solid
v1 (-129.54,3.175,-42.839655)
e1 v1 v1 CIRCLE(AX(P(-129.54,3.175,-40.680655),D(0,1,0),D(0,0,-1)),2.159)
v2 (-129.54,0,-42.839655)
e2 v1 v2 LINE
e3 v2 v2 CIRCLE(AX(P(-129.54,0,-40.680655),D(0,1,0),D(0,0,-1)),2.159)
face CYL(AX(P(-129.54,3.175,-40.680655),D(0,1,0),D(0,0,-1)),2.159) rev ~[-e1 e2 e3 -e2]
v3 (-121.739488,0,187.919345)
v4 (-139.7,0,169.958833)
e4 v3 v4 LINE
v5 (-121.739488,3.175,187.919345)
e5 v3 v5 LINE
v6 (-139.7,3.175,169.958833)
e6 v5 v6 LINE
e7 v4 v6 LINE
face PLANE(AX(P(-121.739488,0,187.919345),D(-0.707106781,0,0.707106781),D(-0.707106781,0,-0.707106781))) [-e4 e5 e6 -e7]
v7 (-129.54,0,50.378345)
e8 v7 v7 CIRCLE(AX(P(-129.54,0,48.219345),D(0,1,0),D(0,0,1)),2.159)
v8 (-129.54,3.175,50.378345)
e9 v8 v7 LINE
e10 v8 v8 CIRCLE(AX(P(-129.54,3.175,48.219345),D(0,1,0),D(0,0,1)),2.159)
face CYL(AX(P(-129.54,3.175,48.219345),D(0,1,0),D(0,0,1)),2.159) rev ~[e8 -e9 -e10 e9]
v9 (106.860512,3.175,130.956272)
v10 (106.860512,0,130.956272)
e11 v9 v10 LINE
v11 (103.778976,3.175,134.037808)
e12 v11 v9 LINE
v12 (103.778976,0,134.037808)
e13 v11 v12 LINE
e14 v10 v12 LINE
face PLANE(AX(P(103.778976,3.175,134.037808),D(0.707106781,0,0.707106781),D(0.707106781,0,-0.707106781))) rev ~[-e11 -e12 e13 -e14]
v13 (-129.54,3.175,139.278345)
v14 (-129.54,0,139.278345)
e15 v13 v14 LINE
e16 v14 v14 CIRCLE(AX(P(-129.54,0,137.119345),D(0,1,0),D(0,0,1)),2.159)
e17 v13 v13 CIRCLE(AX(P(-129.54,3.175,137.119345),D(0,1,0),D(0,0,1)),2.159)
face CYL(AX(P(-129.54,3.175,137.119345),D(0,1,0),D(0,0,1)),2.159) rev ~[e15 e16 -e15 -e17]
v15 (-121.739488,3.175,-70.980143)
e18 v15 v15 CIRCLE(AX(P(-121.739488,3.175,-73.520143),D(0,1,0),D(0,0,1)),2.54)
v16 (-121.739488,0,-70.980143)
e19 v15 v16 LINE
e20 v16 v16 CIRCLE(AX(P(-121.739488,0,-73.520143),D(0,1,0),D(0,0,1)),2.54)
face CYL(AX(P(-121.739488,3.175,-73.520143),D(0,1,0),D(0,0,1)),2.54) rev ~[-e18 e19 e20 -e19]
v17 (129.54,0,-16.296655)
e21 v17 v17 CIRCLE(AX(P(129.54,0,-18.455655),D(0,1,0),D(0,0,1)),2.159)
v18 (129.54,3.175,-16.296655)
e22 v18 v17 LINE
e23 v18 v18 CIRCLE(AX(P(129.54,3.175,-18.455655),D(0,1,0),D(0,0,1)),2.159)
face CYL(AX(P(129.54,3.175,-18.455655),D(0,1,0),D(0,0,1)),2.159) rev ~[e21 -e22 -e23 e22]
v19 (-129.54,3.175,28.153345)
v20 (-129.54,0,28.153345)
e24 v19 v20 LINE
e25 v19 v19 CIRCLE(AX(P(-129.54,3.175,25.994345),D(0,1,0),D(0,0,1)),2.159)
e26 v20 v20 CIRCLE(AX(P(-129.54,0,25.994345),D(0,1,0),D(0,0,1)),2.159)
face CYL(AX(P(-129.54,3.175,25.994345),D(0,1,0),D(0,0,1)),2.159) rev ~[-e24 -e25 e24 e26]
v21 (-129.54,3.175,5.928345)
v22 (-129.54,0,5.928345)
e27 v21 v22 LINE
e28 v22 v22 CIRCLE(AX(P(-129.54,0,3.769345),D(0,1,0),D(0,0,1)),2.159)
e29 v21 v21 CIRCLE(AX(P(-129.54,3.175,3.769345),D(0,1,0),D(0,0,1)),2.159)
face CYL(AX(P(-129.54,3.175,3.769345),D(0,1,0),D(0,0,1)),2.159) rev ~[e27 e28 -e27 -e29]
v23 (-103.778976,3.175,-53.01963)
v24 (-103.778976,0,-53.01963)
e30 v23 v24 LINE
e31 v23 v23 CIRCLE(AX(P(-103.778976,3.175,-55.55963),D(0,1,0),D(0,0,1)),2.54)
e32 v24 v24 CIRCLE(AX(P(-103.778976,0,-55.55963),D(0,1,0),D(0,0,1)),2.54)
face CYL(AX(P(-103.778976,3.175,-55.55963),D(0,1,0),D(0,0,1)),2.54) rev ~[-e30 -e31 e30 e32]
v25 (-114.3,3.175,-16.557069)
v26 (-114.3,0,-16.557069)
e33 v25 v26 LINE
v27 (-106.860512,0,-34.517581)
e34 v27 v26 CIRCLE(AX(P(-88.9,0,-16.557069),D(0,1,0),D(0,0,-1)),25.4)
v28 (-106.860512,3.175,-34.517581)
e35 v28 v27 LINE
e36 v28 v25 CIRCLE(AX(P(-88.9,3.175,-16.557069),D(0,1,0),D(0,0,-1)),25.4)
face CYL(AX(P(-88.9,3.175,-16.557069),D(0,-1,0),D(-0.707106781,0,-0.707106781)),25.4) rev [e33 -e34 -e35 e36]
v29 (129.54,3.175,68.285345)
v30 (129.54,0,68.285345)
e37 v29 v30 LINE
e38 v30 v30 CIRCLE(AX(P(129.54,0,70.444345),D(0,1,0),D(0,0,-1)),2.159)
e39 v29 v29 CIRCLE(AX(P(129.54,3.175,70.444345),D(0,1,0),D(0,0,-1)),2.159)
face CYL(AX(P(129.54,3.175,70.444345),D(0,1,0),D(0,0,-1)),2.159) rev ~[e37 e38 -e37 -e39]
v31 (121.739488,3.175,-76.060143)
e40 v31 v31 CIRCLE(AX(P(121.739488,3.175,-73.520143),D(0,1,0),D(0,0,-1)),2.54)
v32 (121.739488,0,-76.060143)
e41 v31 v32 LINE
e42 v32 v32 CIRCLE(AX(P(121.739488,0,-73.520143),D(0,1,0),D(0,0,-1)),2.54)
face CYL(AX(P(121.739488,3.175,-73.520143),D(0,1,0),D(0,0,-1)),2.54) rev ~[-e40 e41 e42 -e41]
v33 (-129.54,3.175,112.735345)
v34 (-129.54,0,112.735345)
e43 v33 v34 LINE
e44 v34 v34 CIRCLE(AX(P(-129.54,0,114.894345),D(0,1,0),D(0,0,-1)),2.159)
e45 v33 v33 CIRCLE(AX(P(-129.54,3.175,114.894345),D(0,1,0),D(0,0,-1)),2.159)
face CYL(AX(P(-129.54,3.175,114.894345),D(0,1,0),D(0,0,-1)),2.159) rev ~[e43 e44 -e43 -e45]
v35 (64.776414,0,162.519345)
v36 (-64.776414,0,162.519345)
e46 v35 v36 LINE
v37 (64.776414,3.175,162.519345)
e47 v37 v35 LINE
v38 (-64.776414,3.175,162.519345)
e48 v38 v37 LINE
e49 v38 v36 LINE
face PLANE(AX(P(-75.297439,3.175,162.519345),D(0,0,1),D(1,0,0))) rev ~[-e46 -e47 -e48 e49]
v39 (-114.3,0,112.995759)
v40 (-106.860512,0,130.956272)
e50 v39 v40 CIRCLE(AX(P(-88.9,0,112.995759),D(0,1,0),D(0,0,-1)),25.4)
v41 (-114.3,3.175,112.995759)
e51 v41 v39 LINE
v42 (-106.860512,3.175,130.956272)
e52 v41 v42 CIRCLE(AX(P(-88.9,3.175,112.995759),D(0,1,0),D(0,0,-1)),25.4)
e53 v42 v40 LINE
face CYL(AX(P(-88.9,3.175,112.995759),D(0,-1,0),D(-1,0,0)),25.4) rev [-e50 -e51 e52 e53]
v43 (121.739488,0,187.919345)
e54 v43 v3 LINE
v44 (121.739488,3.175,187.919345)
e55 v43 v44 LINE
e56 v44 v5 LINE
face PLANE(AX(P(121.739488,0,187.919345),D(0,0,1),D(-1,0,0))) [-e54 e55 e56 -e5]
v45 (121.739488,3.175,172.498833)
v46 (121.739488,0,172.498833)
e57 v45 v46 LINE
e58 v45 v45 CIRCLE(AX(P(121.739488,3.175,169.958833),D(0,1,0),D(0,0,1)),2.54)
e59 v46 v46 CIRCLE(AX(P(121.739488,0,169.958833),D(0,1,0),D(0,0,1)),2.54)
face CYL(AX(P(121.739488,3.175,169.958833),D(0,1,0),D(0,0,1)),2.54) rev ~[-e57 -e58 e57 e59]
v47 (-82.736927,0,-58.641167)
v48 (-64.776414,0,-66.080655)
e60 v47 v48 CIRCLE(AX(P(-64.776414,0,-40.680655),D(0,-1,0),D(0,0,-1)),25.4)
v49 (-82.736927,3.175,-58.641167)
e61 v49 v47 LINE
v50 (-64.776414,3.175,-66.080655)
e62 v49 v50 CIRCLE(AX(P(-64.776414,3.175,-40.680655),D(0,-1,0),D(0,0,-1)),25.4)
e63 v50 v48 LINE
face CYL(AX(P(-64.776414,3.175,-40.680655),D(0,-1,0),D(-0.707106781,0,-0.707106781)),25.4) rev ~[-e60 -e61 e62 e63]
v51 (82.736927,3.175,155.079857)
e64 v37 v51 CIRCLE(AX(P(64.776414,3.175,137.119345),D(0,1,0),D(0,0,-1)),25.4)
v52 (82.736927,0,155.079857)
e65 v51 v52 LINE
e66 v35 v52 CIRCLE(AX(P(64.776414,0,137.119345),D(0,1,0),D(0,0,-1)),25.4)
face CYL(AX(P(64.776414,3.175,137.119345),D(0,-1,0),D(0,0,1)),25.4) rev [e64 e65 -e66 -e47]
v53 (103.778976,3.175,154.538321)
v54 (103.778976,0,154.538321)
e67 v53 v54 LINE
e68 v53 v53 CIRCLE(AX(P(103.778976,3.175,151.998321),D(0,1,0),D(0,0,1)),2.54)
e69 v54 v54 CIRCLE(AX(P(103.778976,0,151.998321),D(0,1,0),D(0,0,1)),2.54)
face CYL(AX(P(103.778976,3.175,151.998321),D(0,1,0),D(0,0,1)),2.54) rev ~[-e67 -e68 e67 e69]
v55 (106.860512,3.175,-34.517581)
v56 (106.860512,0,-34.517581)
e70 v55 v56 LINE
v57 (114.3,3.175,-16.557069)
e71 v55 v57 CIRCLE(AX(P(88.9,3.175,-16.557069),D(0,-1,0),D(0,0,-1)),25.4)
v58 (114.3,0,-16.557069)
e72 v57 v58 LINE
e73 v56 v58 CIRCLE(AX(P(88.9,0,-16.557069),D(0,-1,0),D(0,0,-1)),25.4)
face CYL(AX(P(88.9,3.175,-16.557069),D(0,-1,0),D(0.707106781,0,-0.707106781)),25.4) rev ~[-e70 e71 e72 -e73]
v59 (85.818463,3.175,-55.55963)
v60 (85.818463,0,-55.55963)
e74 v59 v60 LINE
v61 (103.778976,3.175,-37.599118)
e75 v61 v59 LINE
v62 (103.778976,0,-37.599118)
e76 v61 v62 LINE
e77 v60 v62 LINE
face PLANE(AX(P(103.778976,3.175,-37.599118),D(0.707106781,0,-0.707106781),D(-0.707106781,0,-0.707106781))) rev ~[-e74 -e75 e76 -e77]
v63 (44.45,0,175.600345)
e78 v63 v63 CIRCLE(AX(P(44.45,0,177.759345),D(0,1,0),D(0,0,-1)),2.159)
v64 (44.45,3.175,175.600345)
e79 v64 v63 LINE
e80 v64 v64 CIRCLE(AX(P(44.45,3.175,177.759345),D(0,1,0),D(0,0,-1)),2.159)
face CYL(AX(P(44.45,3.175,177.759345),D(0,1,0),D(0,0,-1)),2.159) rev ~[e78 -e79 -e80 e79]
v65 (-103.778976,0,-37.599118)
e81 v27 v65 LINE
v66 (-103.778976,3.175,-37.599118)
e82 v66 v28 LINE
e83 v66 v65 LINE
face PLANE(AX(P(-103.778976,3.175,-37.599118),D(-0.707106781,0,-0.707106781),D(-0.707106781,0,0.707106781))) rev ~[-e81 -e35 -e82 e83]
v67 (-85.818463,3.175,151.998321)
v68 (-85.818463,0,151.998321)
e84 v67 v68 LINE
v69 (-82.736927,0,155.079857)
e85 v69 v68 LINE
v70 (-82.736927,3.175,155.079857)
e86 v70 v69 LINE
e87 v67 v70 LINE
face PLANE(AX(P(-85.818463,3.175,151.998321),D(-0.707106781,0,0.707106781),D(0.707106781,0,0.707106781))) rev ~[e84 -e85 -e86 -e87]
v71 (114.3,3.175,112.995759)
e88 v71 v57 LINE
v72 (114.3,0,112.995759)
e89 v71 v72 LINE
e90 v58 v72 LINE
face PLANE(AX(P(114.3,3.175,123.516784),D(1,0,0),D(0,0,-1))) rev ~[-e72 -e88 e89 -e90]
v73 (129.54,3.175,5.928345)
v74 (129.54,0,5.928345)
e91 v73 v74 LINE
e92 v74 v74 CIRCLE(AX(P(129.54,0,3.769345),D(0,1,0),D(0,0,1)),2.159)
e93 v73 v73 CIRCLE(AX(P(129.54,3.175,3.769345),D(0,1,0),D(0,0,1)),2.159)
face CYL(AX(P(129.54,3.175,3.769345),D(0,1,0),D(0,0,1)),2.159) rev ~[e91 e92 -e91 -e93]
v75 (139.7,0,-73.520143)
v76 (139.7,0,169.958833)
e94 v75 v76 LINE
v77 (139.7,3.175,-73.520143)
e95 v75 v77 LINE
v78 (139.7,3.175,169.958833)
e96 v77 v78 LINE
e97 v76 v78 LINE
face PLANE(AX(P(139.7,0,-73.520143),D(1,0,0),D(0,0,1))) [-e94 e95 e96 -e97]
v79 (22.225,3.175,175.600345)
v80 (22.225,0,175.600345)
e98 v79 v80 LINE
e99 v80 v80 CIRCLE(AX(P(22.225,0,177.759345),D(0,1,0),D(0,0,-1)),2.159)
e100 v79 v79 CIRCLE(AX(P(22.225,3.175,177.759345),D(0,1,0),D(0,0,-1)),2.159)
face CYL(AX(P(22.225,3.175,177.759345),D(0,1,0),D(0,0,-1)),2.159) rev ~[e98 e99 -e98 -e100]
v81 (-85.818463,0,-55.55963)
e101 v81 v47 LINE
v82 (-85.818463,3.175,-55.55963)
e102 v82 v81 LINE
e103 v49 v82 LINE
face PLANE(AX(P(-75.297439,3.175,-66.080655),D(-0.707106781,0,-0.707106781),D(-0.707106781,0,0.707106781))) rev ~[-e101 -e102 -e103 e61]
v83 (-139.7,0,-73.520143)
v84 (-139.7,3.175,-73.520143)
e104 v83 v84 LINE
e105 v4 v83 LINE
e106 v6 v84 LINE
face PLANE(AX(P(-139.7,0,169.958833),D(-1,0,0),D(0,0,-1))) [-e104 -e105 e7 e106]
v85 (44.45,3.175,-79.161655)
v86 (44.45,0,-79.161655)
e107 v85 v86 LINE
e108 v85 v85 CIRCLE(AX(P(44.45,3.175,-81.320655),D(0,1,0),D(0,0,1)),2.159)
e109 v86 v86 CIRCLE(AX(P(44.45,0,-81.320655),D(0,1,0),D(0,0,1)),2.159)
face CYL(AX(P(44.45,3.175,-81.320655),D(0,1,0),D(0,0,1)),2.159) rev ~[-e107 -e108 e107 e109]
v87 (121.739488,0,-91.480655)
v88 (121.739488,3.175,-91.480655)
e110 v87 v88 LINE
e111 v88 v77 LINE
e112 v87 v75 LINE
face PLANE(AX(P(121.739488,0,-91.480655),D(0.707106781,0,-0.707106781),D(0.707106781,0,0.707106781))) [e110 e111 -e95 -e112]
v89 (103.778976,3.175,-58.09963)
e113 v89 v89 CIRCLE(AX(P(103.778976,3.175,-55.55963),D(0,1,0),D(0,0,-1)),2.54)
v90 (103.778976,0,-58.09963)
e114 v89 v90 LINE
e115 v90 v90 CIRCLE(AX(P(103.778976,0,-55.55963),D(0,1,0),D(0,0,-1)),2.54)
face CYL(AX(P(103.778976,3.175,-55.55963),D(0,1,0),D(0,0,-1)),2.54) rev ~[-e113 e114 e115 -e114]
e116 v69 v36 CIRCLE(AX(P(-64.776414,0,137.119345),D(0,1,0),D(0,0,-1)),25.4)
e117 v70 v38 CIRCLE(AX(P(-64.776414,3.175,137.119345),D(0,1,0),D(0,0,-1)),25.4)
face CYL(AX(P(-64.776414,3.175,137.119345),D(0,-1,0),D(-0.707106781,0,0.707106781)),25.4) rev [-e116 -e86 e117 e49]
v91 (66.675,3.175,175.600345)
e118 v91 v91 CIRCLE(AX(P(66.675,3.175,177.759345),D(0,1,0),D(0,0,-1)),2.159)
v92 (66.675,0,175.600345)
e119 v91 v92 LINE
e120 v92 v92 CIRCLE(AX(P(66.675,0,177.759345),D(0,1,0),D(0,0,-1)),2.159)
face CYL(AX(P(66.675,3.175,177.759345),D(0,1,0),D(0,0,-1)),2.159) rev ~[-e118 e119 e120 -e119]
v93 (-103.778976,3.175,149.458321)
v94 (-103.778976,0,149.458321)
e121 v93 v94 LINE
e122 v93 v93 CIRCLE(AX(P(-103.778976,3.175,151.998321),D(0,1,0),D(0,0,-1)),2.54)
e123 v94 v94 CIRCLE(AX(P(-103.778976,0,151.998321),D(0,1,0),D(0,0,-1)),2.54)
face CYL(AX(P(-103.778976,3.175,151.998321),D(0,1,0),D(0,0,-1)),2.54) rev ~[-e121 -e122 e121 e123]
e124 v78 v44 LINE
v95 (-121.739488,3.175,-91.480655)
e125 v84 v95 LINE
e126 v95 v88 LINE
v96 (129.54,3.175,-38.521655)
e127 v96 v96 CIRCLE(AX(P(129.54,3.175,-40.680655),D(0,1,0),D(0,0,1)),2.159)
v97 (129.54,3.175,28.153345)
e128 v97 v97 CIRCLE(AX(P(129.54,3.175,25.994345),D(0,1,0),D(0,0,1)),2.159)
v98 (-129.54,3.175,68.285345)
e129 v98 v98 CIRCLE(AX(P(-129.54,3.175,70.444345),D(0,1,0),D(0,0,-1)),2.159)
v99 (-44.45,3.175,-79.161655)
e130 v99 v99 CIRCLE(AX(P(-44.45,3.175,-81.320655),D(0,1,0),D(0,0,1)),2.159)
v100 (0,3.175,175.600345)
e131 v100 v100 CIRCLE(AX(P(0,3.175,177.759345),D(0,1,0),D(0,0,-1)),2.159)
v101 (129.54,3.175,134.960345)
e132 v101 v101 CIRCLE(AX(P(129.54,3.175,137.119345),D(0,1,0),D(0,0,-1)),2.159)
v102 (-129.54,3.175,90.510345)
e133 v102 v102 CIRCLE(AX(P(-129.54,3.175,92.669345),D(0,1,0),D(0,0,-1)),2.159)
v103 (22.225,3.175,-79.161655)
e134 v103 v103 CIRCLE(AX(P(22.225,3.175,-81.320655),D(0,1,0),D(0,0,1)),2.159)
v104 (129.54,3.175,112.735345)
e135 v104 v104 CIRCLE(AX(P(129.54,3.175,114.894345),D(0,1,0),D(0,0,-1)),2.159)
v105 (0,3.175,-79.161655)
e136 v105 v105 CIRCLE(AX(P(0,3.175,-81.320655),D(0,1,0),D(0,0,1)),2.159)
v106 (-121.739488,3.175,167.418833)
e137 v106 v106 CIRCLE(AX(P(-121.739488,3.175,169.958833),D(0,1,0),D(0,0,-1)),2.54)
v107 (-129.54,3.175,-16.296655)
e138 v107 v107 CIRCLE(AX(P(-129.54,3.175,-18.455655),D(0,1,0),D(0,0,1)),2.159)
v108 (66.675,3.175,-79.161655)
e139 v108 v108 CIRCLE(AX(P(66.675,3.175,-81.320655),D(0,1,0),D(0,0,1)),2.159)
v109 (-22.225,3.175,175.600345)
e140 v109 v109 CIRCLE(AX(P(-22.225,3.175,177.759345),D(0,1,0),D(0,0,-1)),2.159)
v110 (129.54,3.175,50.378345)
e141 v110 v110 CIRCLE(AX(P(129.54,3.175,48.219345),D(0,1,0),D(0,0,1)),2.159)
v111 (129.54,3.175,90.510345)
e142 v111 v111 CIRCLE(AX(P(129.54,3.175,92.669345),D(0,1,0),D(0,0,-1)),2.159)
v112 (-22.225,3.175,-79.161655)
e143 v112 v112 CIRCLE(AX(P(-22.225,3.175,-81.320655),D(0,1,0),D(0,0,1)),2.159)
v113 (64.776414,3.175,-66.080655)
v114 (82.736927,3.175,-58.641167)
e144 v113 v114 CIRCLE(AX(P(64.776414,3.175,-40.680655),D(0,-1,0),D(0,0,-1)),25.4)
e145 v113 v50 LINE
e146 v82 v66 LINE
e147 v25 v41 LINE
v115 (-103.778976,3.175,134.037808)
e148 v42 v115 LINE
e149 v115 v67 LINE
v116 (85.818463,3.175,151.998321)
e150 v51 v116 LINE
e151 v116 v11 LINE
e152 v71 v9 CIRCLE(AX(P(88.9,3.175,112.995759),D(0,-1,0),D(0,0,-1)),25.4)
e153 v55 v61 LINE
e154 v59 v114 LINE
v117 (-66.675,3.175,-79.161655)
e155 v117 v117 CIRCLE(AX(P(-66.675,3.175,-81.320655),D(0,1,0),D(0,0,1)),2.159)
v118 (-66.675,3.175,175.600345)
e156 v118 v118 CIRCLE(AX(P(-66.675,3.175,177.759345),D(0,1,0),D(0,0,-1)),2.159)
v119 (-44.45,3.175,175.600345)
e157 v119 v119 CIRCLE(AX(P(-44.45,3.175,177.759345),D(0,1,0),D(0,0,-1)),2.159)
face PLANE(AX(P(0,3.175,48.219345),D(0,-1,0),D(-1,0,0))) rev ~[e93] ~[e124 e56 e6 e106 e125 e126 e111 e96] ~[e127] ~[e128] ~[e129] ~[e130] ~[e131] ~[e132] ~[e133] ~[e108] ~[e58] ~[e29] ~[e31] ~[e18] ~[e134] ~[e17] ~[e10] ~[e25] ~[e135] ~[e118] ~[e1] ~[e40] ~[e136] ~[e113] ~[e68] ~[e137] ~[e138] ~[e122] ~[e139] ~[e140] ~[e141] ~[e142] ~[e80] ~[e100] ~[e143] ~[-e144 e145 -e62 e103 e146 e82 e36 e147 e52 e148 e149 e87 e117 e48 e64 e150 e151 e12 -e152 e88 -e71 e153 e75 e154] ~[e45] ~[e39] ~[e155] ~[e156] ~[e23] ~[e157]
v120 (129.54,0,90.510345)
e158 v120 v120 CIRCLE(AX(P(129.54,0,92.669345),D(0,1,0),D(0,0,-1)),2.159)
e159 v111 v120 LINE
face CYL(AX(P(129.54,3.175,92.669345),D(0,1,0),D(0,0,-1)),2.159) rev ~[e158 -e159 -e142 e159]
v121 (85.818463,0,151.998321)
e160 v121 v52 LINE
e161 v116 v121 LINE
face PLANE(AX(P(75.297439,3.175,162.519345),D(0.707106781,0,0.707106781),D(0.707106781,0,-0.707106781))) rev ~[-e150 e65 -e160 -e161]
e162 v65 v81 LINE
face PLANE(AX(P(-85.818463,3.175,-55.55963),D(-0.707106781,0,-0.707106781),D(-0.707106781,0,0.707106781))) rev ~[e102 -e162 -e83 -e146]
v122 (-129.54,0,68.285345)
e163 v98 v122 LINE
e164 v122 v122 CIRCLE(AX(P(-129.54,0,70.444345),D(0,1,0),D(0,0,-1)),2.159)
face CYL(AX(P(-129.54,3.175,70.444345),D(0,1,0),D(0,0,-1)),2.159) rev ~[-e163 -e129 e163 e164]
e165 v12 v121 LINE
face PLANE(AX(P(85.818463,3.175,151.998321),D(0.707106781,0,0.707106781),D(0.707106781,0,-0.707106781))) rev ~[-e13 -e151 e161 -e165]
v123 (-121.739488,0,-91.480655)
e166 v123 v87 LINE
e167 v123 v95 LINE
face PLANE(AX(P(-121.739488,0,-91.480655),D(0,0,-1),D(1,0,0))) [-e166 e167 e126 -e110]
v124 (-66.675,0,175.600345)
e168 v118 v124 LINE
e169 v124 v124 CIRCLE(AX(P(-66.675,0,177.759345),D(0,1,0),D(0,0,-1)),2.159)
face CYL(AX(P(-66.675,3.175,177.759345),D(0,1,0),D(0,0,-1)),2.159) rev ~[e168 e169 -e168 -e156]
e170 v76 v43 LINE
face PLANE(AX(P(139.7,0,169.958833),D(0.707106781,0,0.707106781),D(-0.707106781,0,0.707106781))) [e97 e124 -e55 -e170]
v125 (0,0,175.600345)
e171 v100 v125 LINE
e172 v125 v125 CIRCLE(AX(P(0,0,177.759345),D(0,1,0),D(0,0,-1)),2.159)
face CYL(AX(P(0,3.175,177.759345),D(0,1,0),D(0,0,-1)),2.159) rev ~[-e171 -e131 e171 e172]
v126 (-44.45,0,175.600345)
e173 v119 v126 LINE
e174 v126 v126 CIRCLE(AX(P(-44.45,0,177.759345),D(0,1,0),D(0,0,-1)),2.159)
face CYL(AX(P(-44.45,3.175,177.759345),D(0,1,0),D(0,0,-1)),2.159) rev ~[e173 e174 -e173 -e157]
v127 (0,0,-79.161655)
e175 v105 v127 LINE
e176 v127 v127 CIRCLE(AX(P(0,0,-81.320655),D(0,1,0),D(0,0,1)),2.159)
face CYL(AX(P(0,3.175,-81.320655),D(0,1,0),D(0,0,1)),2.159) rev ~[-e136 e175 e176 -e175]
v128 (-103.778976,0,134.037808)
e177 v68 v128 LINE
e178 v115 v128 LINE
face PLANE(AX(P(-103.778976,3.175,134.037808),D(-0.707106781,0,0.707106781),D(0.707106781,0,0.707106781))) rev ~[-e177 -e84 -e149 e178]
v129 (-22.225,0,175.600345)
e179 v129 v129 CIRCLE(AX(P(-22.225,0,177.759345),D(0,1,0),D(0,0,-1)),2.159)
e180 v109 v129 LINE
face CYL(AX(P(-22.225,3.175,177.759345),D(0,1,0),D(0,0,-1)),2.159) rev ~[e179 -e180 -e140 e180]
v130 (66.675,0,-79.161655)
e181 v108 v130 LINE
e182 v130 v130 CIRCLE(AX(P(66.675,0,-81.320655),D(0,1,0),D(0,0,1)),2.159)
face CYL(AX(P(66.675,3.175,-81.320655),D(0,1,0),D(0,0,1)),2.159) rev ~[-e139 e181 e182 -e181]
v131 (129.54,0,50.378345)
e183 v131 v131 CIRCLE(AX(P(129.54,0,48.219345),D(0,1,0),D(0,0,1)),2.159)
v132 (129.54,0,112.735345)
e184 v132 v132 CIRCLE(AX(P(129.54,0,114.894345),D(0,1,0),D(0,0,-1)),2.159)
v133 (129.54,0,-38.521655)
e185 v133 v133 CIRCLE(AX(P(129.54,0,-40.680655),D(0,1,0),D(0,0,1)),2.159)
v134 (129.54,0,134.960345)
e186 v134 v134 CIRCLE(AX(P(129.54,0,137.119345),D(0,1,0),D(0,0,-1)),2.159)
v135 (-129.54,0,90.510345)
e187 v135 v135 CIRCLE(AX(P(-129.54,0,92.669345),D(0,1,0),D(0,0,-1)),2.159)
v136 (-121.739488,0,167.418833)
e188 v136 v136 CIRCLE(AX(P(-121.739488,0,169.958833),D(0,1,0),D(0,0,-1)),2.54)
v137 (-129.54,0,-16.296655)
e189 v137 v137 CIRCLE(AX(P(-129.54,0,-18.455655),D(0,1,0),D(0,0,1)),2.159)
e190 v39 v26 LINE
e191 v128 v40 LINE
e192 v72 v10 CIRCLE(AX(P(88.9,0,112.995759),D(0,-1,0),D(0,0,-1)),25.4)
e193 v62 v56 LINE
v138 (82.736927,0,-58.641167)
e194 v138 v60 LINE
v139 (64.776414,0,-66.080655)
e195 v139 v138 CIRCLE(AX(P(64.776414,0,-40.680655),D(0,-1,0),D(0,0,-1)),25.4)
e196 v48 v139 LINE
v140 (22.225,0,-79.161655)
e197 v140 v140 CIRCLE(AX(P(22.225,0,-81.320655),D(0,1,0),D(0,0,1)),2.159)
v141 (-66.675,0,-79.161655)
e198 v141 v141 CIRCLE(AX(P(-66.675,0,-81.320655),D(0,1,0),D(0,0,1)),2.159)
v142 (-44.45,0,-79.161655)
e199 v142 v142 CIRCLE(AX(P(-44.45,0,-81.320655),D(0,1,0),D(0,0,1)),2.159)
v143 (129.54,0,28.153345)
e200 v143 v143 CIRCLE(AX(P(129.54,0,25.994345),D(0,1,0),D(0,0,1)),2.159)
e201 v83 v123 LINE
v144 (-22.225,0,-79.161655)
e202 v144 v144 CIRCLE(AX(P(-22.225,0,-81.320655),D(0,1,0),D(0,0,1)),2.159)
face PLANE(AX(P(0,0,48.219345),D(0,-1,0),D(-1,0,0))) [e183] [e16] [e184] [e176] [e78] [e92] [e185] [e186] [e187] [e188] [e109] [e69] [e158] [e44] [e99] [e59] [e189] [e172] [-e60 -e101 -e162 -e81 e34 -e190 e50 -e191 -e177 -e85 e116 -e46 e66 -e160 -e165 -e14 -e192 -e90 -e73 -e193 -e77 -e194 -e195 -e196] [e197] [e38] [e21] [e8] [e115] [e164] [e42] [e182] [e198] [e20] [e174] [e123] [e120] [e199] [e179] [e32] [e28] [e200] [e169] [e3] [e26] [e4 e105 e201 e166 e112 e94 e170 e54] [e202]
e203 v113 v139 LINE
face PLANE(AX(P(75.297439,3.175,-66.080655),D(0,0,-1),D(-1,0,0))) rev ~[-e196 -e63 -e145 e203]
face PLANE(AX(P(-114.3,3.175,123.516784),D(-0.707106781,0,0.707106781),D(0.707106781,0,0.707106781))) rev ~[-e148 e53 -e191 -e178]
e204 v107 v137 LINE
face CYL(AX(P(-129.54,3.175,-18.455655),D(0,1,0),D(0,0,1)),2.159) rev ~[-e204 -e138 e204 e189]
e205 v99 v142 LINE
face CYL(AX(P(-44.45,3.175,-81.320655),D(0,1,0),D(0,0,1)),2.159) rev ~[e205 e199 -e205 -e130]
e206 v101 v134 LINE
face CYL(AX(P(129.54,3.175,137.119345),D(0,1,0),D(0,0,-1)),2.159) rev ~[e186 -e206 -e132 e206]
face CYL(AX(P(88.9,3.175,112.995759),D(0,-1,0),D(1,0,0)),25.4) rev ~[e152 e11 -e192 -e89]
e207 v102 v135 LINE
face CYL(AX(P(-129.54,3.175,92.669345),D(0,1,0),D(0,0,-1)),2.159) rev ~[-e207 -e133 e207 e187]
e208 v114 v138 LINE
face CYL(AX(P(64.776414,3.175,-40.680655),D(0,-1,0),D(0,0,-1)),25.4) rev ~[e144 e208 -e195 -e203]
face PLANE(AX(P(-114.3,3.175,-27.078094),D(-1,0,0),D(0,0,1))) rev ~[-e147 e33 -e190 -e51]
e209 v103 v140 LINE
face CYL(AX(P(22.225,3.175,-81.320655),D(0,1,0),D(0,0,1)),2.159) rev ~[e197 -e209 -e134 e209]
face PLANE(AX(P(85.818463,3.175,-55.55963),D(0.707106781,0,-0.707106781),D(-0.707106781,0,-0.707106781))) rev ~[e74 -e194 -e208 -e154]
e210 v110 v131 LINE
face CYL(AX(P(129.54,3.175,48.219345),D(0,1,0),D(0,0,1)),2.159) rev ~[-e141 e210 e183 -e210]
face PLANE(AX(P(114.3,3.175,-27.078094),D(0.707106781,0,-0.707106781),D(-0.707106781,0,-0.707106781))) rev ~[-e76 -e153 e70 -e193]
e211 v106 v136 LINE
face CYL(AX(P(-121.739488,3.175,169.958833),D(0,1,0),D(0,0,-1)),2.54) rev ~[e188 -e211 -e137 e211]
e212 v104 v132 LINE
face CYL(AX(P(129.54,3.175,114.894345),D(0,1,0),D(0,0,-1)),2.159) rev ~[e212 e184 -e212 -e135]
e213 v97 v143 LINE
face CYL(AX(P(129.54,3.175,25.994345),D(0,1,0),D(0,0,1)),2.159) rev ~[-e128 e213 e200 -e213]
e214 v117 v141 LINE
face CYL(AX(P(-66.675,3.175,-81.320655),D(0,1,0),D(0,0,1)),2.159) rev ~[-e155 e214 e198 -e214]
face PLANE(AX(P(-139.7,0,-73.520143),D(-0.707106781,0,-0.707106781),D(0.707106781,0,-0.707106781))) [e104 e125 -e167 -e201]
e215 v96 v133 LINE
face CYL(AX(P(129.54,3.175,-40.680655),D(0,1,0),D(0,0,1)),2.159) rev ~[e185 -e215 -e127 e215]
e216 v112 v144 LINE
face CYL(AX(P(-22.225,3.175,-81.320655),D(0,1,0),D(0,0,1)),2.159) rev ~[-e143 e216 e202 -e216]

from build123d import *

# Parameters (mm, degrees)
BOSS_EXTRUDE1_DEPTH = 3.175
CUT_EXTRUDE4_DEPTH  = 235.179100055
SKETCH5_R           = 2.54
CUT_EXTRUDE3_DEPTH  = 235.179100055
SKETCH4_R           = 2.159
CUT_EXTRUDE2_DEPTH  = 235.179100055
FILLET1_R           = 25.4


with BuildPart() as part:
    # Sketch1 → Boss-Extrude1 (new body)
    with BuildSketch(Plane(origin=(0, 0, 0), x_dir=(1, 0, 0), z_dir=(0, 1, 0))):
        Polygon((-139.7, 73.520142619), (-121.739487758, 91.480654861), (121.739487758, 91.480654861), (139.7, 73.520142619), (139.7, -169.958832897), (121.739487758, -187.919345139), (-121.739487758, -187.919345139), (-139.7, -169.958832897), align=None)
    extrude(amount=BOSS_EXTRUDE1_DEPTH)

    # Sketch2 → Cut-Extrude4 (cut, through all)
    with BuildSketch(Plane(origin=(0, 3.175, 0), x_dir=(1, 0, 0), z_dir=(0, 1, 0))):
        Polygon((-103.778975516, 37.599118134), (-114.3, 27.07809365), (-114.3, -123.516783928), (-103.778975516, -134.037808413), (-85.818463274, -151.998320655), (-75.297438789, -162.519345139), (75.297438789, -162.519345139), (85.818463274, -151.998320655), (103.778975516, -134.037808413), (114.3, -123.516783928), (114.3, 27.07809365), (103.778975516, 37.599118134), (85.818463274, 55.559630377), (75.297438789, 66.080654861), (-75.297438789, 66.080654861), (-85.818463274, 55.559630377), align=None)
    extrude(amount=-CUT_EXTRUDE4_DEPTH, mode=Mode.SUBTRACT)

    # Sketch5 → Cut-Extrude3 (cut, through all)
    with BuildSketch(Plane(origin=(0, 3.175, 0), x_dir=(1, 0, 0), z_dir=(0, 1, 0))):
        with Locations(Location((-121.739487758, 73.520142619, 0), (0, 0, 270))):
            Circle(SKETCH5_R)
        with Locations(Location((-103.778975516, 55.559630377, 0), (0, 0, 270))):
            Circle(SKETCH5_R)
        with Locations(Location((103.778975516, 55.559630377, 0), (0, 0, 90))):
            Circle(SKETCH5_R)
        with Locations(Location((121.739487758, 73.520142619, 0), (0, 0, 90))):
            Circle(SKETCH5_R)
        with Locations(Location((121.739487758, -169.958832897, 0), (0, 0, 270))):
            Circle(SKETCH5_R)
        with Locations(Location((103.778975516, -151.998320655, 0), (0, 0, 270))):
            Circle(SKETCH5_R)
        with Locations(Location((-103.778975516, -151.998320655, 0), (0, 0, 90))):
            Circle(SKETCH5_R)
        with Locations(Location((-121.739487758, -169.958832897, 0), (0, 0, 90))):
            Circle(SKETCH5_R)
    extrude(amount=-CUT_EXTRUDE3_DEPTH, mode=Mode.SUBTRACT)

    # Sketch4 → Cut-Extrude2 (cut, through all)
    with BuildSketch(Plane(origin=(0, 3.175, 0), x_dir=(1, 0, 0), z_dir=(0, 1, 0))):
        with Locations(Location((0, 81.320654861, 0), (0, 0, 270))):
            Circle(SKETCH4_R)
        with Locations(Location((-44.45, 81.320654861, 0), (0, 0, 270))):
            Circle(SKETCH4_R)
        with Locations(Location((44.45, 81.320654861, 0), (0, 0, 270))):
            Circle(SKETCH4_R)
        with Locations(Location((-22.225, 81.320654861, 0), (0, 0, 270))):
            Circle(SKETCH4_R)
        with Locations(Location((22.225, 81.320654861, 0), (0, 0, 270))):
            Circle(SKETCH4_R)
        with Locations(Location((-129.54, -48.219345139, 0), (0, 0, 270))):
            Circle(SKETCH4_R)
        with Locations(Location((-129.54, -25.994345139, 0), (0, 0, 270))):
            Circle(SKETCH4_R)
        with Locations(Location((-129.54, -3.769345139, 0), (0, 0, 270))):
            Circle(SKETCH4_R)
        with Locations(Location((129.54, -48.219345139, 0), (0, 0, 270))):
            Circle(SKETCH4_R)
        with Locations(Location((129.54, -25.994345139, 0), (0, 0, 270))):
            Circle(SKETCH4_R)
        with Locations(Location((129.54, -3.769345139, 0), (0, 0, 270))):
            Circle(SKETCH4_R)
        with Locations(Location((129.54, -92.669345139, 0), (0, 0, 90))):
            Circle(SKETCH4_R)
        with Locations(Location((129.54, -70.444345139, 0), (0, 0, 90))):
            Circle(SKETCH4_R)
        with Locations(Location((-129.54, -92.669345139, 0), (0, 0, 90))):
            Circle(SKETCH4_R)
        with Locations(Location((-129.54, -70.444345139, 0), (0, 0, 90))):
            Circle(SKETCH4_R)
        with Locations(Location((22.225, -177.759345139, 0), (0, 0, 90))):
            Circle(SKETCH4_R)
        with Locations(Location((-22.225, -177.759345139, 0), (0, 0, 90))):
            Circle(SKETCH4_R)
        with Locations(Location((44.45, -177.759345139, 0), (0, 0, 90))):
            Circle(SKETCH4_R)
        with Locations(Location((-44.45, -177.759345139, 0), (0, 0, 90))):
            Circle(SKETCH4_R)
        with Locations(Location((0, -177.759345139, 0), (0, 0, 90))):
            Circle(SKETCH4_R)
        with Locations(Location((-66.675, 81.320654861, 0), (0, 0, 270))):
            Circle(SKETCH4_R)
        with Locations(Location((66.675, 81.320654861, 0), (0, 0, 270))):
            Circle(SKETCH4_R)
        with Locations(Location((-129.54, 18.455654861, 0), (0, 0, 270))):
            Circle(SKETCH4_R)
        with Locations(Location((129.54, 18.455654861, 0), (0, 0, 270))):
            Circle(SKETCH4_R)
        with Locations(Location((129.54, -114.894345139, 0), (0, 0, 90))):
            Circle(SKETCH4_R)
        with Locations(Location((66.675, -177.759345139, 0), (0, 0, 90))):
            Circle(SKETCH4_R)
        with Locations(Location((-66.675, -177.759345139, 0), (0, 0, 90))):
            Circle(SKETCH4_R)
        with Locations(Location((-129.54, -114.894345139, 0), (0, 0, 90))):
            Circle(SKETCH4_R)
        with Locations(Location((-129.54, -137.119345139, 0), (0, 0, 270))):
            Circle(SKETCH4_R)
        with Locations(Location((-129.54, 40.680654861, 0), (0, 0, 90))):
            Circle(SKETCH4_R)
        with Locations(Location((129.54, 40.680654861, 0), (0, 0, 270))):
            Circle(SKETCH4_R)
        with Locations(Location((129.54, -137.119345139, 0), (0, 0, 90))):
            Circle(SKETCH4_R)
    extrude(amount=-CUT_EXTRUDE2_DEPTH, mode=Mode.SUBTRACT)

    # Fillet1
    fillet1_edges = [part.edges().sort_by_distance(p)[0] for p in [
        (-75.297438789, 1.5875, -66.080654861),
        (75.297438789, 1.5875, -66.080654861),
        (114.3, 1.5875, -27.07809365),
        (114.3, 1.5875, 123.516783928),
        (75.297438789, 1.5875, 162.519345139),
        (-75.297438789, 1.5875, 162.519345139),
        (-114.3, 1.5875, 123.516783928),
        (-114.3, 1.5875, -27.07809365),
    ]]
    fillet(fillet1_edges, radius=FILLET1_R)


solid = part.part
